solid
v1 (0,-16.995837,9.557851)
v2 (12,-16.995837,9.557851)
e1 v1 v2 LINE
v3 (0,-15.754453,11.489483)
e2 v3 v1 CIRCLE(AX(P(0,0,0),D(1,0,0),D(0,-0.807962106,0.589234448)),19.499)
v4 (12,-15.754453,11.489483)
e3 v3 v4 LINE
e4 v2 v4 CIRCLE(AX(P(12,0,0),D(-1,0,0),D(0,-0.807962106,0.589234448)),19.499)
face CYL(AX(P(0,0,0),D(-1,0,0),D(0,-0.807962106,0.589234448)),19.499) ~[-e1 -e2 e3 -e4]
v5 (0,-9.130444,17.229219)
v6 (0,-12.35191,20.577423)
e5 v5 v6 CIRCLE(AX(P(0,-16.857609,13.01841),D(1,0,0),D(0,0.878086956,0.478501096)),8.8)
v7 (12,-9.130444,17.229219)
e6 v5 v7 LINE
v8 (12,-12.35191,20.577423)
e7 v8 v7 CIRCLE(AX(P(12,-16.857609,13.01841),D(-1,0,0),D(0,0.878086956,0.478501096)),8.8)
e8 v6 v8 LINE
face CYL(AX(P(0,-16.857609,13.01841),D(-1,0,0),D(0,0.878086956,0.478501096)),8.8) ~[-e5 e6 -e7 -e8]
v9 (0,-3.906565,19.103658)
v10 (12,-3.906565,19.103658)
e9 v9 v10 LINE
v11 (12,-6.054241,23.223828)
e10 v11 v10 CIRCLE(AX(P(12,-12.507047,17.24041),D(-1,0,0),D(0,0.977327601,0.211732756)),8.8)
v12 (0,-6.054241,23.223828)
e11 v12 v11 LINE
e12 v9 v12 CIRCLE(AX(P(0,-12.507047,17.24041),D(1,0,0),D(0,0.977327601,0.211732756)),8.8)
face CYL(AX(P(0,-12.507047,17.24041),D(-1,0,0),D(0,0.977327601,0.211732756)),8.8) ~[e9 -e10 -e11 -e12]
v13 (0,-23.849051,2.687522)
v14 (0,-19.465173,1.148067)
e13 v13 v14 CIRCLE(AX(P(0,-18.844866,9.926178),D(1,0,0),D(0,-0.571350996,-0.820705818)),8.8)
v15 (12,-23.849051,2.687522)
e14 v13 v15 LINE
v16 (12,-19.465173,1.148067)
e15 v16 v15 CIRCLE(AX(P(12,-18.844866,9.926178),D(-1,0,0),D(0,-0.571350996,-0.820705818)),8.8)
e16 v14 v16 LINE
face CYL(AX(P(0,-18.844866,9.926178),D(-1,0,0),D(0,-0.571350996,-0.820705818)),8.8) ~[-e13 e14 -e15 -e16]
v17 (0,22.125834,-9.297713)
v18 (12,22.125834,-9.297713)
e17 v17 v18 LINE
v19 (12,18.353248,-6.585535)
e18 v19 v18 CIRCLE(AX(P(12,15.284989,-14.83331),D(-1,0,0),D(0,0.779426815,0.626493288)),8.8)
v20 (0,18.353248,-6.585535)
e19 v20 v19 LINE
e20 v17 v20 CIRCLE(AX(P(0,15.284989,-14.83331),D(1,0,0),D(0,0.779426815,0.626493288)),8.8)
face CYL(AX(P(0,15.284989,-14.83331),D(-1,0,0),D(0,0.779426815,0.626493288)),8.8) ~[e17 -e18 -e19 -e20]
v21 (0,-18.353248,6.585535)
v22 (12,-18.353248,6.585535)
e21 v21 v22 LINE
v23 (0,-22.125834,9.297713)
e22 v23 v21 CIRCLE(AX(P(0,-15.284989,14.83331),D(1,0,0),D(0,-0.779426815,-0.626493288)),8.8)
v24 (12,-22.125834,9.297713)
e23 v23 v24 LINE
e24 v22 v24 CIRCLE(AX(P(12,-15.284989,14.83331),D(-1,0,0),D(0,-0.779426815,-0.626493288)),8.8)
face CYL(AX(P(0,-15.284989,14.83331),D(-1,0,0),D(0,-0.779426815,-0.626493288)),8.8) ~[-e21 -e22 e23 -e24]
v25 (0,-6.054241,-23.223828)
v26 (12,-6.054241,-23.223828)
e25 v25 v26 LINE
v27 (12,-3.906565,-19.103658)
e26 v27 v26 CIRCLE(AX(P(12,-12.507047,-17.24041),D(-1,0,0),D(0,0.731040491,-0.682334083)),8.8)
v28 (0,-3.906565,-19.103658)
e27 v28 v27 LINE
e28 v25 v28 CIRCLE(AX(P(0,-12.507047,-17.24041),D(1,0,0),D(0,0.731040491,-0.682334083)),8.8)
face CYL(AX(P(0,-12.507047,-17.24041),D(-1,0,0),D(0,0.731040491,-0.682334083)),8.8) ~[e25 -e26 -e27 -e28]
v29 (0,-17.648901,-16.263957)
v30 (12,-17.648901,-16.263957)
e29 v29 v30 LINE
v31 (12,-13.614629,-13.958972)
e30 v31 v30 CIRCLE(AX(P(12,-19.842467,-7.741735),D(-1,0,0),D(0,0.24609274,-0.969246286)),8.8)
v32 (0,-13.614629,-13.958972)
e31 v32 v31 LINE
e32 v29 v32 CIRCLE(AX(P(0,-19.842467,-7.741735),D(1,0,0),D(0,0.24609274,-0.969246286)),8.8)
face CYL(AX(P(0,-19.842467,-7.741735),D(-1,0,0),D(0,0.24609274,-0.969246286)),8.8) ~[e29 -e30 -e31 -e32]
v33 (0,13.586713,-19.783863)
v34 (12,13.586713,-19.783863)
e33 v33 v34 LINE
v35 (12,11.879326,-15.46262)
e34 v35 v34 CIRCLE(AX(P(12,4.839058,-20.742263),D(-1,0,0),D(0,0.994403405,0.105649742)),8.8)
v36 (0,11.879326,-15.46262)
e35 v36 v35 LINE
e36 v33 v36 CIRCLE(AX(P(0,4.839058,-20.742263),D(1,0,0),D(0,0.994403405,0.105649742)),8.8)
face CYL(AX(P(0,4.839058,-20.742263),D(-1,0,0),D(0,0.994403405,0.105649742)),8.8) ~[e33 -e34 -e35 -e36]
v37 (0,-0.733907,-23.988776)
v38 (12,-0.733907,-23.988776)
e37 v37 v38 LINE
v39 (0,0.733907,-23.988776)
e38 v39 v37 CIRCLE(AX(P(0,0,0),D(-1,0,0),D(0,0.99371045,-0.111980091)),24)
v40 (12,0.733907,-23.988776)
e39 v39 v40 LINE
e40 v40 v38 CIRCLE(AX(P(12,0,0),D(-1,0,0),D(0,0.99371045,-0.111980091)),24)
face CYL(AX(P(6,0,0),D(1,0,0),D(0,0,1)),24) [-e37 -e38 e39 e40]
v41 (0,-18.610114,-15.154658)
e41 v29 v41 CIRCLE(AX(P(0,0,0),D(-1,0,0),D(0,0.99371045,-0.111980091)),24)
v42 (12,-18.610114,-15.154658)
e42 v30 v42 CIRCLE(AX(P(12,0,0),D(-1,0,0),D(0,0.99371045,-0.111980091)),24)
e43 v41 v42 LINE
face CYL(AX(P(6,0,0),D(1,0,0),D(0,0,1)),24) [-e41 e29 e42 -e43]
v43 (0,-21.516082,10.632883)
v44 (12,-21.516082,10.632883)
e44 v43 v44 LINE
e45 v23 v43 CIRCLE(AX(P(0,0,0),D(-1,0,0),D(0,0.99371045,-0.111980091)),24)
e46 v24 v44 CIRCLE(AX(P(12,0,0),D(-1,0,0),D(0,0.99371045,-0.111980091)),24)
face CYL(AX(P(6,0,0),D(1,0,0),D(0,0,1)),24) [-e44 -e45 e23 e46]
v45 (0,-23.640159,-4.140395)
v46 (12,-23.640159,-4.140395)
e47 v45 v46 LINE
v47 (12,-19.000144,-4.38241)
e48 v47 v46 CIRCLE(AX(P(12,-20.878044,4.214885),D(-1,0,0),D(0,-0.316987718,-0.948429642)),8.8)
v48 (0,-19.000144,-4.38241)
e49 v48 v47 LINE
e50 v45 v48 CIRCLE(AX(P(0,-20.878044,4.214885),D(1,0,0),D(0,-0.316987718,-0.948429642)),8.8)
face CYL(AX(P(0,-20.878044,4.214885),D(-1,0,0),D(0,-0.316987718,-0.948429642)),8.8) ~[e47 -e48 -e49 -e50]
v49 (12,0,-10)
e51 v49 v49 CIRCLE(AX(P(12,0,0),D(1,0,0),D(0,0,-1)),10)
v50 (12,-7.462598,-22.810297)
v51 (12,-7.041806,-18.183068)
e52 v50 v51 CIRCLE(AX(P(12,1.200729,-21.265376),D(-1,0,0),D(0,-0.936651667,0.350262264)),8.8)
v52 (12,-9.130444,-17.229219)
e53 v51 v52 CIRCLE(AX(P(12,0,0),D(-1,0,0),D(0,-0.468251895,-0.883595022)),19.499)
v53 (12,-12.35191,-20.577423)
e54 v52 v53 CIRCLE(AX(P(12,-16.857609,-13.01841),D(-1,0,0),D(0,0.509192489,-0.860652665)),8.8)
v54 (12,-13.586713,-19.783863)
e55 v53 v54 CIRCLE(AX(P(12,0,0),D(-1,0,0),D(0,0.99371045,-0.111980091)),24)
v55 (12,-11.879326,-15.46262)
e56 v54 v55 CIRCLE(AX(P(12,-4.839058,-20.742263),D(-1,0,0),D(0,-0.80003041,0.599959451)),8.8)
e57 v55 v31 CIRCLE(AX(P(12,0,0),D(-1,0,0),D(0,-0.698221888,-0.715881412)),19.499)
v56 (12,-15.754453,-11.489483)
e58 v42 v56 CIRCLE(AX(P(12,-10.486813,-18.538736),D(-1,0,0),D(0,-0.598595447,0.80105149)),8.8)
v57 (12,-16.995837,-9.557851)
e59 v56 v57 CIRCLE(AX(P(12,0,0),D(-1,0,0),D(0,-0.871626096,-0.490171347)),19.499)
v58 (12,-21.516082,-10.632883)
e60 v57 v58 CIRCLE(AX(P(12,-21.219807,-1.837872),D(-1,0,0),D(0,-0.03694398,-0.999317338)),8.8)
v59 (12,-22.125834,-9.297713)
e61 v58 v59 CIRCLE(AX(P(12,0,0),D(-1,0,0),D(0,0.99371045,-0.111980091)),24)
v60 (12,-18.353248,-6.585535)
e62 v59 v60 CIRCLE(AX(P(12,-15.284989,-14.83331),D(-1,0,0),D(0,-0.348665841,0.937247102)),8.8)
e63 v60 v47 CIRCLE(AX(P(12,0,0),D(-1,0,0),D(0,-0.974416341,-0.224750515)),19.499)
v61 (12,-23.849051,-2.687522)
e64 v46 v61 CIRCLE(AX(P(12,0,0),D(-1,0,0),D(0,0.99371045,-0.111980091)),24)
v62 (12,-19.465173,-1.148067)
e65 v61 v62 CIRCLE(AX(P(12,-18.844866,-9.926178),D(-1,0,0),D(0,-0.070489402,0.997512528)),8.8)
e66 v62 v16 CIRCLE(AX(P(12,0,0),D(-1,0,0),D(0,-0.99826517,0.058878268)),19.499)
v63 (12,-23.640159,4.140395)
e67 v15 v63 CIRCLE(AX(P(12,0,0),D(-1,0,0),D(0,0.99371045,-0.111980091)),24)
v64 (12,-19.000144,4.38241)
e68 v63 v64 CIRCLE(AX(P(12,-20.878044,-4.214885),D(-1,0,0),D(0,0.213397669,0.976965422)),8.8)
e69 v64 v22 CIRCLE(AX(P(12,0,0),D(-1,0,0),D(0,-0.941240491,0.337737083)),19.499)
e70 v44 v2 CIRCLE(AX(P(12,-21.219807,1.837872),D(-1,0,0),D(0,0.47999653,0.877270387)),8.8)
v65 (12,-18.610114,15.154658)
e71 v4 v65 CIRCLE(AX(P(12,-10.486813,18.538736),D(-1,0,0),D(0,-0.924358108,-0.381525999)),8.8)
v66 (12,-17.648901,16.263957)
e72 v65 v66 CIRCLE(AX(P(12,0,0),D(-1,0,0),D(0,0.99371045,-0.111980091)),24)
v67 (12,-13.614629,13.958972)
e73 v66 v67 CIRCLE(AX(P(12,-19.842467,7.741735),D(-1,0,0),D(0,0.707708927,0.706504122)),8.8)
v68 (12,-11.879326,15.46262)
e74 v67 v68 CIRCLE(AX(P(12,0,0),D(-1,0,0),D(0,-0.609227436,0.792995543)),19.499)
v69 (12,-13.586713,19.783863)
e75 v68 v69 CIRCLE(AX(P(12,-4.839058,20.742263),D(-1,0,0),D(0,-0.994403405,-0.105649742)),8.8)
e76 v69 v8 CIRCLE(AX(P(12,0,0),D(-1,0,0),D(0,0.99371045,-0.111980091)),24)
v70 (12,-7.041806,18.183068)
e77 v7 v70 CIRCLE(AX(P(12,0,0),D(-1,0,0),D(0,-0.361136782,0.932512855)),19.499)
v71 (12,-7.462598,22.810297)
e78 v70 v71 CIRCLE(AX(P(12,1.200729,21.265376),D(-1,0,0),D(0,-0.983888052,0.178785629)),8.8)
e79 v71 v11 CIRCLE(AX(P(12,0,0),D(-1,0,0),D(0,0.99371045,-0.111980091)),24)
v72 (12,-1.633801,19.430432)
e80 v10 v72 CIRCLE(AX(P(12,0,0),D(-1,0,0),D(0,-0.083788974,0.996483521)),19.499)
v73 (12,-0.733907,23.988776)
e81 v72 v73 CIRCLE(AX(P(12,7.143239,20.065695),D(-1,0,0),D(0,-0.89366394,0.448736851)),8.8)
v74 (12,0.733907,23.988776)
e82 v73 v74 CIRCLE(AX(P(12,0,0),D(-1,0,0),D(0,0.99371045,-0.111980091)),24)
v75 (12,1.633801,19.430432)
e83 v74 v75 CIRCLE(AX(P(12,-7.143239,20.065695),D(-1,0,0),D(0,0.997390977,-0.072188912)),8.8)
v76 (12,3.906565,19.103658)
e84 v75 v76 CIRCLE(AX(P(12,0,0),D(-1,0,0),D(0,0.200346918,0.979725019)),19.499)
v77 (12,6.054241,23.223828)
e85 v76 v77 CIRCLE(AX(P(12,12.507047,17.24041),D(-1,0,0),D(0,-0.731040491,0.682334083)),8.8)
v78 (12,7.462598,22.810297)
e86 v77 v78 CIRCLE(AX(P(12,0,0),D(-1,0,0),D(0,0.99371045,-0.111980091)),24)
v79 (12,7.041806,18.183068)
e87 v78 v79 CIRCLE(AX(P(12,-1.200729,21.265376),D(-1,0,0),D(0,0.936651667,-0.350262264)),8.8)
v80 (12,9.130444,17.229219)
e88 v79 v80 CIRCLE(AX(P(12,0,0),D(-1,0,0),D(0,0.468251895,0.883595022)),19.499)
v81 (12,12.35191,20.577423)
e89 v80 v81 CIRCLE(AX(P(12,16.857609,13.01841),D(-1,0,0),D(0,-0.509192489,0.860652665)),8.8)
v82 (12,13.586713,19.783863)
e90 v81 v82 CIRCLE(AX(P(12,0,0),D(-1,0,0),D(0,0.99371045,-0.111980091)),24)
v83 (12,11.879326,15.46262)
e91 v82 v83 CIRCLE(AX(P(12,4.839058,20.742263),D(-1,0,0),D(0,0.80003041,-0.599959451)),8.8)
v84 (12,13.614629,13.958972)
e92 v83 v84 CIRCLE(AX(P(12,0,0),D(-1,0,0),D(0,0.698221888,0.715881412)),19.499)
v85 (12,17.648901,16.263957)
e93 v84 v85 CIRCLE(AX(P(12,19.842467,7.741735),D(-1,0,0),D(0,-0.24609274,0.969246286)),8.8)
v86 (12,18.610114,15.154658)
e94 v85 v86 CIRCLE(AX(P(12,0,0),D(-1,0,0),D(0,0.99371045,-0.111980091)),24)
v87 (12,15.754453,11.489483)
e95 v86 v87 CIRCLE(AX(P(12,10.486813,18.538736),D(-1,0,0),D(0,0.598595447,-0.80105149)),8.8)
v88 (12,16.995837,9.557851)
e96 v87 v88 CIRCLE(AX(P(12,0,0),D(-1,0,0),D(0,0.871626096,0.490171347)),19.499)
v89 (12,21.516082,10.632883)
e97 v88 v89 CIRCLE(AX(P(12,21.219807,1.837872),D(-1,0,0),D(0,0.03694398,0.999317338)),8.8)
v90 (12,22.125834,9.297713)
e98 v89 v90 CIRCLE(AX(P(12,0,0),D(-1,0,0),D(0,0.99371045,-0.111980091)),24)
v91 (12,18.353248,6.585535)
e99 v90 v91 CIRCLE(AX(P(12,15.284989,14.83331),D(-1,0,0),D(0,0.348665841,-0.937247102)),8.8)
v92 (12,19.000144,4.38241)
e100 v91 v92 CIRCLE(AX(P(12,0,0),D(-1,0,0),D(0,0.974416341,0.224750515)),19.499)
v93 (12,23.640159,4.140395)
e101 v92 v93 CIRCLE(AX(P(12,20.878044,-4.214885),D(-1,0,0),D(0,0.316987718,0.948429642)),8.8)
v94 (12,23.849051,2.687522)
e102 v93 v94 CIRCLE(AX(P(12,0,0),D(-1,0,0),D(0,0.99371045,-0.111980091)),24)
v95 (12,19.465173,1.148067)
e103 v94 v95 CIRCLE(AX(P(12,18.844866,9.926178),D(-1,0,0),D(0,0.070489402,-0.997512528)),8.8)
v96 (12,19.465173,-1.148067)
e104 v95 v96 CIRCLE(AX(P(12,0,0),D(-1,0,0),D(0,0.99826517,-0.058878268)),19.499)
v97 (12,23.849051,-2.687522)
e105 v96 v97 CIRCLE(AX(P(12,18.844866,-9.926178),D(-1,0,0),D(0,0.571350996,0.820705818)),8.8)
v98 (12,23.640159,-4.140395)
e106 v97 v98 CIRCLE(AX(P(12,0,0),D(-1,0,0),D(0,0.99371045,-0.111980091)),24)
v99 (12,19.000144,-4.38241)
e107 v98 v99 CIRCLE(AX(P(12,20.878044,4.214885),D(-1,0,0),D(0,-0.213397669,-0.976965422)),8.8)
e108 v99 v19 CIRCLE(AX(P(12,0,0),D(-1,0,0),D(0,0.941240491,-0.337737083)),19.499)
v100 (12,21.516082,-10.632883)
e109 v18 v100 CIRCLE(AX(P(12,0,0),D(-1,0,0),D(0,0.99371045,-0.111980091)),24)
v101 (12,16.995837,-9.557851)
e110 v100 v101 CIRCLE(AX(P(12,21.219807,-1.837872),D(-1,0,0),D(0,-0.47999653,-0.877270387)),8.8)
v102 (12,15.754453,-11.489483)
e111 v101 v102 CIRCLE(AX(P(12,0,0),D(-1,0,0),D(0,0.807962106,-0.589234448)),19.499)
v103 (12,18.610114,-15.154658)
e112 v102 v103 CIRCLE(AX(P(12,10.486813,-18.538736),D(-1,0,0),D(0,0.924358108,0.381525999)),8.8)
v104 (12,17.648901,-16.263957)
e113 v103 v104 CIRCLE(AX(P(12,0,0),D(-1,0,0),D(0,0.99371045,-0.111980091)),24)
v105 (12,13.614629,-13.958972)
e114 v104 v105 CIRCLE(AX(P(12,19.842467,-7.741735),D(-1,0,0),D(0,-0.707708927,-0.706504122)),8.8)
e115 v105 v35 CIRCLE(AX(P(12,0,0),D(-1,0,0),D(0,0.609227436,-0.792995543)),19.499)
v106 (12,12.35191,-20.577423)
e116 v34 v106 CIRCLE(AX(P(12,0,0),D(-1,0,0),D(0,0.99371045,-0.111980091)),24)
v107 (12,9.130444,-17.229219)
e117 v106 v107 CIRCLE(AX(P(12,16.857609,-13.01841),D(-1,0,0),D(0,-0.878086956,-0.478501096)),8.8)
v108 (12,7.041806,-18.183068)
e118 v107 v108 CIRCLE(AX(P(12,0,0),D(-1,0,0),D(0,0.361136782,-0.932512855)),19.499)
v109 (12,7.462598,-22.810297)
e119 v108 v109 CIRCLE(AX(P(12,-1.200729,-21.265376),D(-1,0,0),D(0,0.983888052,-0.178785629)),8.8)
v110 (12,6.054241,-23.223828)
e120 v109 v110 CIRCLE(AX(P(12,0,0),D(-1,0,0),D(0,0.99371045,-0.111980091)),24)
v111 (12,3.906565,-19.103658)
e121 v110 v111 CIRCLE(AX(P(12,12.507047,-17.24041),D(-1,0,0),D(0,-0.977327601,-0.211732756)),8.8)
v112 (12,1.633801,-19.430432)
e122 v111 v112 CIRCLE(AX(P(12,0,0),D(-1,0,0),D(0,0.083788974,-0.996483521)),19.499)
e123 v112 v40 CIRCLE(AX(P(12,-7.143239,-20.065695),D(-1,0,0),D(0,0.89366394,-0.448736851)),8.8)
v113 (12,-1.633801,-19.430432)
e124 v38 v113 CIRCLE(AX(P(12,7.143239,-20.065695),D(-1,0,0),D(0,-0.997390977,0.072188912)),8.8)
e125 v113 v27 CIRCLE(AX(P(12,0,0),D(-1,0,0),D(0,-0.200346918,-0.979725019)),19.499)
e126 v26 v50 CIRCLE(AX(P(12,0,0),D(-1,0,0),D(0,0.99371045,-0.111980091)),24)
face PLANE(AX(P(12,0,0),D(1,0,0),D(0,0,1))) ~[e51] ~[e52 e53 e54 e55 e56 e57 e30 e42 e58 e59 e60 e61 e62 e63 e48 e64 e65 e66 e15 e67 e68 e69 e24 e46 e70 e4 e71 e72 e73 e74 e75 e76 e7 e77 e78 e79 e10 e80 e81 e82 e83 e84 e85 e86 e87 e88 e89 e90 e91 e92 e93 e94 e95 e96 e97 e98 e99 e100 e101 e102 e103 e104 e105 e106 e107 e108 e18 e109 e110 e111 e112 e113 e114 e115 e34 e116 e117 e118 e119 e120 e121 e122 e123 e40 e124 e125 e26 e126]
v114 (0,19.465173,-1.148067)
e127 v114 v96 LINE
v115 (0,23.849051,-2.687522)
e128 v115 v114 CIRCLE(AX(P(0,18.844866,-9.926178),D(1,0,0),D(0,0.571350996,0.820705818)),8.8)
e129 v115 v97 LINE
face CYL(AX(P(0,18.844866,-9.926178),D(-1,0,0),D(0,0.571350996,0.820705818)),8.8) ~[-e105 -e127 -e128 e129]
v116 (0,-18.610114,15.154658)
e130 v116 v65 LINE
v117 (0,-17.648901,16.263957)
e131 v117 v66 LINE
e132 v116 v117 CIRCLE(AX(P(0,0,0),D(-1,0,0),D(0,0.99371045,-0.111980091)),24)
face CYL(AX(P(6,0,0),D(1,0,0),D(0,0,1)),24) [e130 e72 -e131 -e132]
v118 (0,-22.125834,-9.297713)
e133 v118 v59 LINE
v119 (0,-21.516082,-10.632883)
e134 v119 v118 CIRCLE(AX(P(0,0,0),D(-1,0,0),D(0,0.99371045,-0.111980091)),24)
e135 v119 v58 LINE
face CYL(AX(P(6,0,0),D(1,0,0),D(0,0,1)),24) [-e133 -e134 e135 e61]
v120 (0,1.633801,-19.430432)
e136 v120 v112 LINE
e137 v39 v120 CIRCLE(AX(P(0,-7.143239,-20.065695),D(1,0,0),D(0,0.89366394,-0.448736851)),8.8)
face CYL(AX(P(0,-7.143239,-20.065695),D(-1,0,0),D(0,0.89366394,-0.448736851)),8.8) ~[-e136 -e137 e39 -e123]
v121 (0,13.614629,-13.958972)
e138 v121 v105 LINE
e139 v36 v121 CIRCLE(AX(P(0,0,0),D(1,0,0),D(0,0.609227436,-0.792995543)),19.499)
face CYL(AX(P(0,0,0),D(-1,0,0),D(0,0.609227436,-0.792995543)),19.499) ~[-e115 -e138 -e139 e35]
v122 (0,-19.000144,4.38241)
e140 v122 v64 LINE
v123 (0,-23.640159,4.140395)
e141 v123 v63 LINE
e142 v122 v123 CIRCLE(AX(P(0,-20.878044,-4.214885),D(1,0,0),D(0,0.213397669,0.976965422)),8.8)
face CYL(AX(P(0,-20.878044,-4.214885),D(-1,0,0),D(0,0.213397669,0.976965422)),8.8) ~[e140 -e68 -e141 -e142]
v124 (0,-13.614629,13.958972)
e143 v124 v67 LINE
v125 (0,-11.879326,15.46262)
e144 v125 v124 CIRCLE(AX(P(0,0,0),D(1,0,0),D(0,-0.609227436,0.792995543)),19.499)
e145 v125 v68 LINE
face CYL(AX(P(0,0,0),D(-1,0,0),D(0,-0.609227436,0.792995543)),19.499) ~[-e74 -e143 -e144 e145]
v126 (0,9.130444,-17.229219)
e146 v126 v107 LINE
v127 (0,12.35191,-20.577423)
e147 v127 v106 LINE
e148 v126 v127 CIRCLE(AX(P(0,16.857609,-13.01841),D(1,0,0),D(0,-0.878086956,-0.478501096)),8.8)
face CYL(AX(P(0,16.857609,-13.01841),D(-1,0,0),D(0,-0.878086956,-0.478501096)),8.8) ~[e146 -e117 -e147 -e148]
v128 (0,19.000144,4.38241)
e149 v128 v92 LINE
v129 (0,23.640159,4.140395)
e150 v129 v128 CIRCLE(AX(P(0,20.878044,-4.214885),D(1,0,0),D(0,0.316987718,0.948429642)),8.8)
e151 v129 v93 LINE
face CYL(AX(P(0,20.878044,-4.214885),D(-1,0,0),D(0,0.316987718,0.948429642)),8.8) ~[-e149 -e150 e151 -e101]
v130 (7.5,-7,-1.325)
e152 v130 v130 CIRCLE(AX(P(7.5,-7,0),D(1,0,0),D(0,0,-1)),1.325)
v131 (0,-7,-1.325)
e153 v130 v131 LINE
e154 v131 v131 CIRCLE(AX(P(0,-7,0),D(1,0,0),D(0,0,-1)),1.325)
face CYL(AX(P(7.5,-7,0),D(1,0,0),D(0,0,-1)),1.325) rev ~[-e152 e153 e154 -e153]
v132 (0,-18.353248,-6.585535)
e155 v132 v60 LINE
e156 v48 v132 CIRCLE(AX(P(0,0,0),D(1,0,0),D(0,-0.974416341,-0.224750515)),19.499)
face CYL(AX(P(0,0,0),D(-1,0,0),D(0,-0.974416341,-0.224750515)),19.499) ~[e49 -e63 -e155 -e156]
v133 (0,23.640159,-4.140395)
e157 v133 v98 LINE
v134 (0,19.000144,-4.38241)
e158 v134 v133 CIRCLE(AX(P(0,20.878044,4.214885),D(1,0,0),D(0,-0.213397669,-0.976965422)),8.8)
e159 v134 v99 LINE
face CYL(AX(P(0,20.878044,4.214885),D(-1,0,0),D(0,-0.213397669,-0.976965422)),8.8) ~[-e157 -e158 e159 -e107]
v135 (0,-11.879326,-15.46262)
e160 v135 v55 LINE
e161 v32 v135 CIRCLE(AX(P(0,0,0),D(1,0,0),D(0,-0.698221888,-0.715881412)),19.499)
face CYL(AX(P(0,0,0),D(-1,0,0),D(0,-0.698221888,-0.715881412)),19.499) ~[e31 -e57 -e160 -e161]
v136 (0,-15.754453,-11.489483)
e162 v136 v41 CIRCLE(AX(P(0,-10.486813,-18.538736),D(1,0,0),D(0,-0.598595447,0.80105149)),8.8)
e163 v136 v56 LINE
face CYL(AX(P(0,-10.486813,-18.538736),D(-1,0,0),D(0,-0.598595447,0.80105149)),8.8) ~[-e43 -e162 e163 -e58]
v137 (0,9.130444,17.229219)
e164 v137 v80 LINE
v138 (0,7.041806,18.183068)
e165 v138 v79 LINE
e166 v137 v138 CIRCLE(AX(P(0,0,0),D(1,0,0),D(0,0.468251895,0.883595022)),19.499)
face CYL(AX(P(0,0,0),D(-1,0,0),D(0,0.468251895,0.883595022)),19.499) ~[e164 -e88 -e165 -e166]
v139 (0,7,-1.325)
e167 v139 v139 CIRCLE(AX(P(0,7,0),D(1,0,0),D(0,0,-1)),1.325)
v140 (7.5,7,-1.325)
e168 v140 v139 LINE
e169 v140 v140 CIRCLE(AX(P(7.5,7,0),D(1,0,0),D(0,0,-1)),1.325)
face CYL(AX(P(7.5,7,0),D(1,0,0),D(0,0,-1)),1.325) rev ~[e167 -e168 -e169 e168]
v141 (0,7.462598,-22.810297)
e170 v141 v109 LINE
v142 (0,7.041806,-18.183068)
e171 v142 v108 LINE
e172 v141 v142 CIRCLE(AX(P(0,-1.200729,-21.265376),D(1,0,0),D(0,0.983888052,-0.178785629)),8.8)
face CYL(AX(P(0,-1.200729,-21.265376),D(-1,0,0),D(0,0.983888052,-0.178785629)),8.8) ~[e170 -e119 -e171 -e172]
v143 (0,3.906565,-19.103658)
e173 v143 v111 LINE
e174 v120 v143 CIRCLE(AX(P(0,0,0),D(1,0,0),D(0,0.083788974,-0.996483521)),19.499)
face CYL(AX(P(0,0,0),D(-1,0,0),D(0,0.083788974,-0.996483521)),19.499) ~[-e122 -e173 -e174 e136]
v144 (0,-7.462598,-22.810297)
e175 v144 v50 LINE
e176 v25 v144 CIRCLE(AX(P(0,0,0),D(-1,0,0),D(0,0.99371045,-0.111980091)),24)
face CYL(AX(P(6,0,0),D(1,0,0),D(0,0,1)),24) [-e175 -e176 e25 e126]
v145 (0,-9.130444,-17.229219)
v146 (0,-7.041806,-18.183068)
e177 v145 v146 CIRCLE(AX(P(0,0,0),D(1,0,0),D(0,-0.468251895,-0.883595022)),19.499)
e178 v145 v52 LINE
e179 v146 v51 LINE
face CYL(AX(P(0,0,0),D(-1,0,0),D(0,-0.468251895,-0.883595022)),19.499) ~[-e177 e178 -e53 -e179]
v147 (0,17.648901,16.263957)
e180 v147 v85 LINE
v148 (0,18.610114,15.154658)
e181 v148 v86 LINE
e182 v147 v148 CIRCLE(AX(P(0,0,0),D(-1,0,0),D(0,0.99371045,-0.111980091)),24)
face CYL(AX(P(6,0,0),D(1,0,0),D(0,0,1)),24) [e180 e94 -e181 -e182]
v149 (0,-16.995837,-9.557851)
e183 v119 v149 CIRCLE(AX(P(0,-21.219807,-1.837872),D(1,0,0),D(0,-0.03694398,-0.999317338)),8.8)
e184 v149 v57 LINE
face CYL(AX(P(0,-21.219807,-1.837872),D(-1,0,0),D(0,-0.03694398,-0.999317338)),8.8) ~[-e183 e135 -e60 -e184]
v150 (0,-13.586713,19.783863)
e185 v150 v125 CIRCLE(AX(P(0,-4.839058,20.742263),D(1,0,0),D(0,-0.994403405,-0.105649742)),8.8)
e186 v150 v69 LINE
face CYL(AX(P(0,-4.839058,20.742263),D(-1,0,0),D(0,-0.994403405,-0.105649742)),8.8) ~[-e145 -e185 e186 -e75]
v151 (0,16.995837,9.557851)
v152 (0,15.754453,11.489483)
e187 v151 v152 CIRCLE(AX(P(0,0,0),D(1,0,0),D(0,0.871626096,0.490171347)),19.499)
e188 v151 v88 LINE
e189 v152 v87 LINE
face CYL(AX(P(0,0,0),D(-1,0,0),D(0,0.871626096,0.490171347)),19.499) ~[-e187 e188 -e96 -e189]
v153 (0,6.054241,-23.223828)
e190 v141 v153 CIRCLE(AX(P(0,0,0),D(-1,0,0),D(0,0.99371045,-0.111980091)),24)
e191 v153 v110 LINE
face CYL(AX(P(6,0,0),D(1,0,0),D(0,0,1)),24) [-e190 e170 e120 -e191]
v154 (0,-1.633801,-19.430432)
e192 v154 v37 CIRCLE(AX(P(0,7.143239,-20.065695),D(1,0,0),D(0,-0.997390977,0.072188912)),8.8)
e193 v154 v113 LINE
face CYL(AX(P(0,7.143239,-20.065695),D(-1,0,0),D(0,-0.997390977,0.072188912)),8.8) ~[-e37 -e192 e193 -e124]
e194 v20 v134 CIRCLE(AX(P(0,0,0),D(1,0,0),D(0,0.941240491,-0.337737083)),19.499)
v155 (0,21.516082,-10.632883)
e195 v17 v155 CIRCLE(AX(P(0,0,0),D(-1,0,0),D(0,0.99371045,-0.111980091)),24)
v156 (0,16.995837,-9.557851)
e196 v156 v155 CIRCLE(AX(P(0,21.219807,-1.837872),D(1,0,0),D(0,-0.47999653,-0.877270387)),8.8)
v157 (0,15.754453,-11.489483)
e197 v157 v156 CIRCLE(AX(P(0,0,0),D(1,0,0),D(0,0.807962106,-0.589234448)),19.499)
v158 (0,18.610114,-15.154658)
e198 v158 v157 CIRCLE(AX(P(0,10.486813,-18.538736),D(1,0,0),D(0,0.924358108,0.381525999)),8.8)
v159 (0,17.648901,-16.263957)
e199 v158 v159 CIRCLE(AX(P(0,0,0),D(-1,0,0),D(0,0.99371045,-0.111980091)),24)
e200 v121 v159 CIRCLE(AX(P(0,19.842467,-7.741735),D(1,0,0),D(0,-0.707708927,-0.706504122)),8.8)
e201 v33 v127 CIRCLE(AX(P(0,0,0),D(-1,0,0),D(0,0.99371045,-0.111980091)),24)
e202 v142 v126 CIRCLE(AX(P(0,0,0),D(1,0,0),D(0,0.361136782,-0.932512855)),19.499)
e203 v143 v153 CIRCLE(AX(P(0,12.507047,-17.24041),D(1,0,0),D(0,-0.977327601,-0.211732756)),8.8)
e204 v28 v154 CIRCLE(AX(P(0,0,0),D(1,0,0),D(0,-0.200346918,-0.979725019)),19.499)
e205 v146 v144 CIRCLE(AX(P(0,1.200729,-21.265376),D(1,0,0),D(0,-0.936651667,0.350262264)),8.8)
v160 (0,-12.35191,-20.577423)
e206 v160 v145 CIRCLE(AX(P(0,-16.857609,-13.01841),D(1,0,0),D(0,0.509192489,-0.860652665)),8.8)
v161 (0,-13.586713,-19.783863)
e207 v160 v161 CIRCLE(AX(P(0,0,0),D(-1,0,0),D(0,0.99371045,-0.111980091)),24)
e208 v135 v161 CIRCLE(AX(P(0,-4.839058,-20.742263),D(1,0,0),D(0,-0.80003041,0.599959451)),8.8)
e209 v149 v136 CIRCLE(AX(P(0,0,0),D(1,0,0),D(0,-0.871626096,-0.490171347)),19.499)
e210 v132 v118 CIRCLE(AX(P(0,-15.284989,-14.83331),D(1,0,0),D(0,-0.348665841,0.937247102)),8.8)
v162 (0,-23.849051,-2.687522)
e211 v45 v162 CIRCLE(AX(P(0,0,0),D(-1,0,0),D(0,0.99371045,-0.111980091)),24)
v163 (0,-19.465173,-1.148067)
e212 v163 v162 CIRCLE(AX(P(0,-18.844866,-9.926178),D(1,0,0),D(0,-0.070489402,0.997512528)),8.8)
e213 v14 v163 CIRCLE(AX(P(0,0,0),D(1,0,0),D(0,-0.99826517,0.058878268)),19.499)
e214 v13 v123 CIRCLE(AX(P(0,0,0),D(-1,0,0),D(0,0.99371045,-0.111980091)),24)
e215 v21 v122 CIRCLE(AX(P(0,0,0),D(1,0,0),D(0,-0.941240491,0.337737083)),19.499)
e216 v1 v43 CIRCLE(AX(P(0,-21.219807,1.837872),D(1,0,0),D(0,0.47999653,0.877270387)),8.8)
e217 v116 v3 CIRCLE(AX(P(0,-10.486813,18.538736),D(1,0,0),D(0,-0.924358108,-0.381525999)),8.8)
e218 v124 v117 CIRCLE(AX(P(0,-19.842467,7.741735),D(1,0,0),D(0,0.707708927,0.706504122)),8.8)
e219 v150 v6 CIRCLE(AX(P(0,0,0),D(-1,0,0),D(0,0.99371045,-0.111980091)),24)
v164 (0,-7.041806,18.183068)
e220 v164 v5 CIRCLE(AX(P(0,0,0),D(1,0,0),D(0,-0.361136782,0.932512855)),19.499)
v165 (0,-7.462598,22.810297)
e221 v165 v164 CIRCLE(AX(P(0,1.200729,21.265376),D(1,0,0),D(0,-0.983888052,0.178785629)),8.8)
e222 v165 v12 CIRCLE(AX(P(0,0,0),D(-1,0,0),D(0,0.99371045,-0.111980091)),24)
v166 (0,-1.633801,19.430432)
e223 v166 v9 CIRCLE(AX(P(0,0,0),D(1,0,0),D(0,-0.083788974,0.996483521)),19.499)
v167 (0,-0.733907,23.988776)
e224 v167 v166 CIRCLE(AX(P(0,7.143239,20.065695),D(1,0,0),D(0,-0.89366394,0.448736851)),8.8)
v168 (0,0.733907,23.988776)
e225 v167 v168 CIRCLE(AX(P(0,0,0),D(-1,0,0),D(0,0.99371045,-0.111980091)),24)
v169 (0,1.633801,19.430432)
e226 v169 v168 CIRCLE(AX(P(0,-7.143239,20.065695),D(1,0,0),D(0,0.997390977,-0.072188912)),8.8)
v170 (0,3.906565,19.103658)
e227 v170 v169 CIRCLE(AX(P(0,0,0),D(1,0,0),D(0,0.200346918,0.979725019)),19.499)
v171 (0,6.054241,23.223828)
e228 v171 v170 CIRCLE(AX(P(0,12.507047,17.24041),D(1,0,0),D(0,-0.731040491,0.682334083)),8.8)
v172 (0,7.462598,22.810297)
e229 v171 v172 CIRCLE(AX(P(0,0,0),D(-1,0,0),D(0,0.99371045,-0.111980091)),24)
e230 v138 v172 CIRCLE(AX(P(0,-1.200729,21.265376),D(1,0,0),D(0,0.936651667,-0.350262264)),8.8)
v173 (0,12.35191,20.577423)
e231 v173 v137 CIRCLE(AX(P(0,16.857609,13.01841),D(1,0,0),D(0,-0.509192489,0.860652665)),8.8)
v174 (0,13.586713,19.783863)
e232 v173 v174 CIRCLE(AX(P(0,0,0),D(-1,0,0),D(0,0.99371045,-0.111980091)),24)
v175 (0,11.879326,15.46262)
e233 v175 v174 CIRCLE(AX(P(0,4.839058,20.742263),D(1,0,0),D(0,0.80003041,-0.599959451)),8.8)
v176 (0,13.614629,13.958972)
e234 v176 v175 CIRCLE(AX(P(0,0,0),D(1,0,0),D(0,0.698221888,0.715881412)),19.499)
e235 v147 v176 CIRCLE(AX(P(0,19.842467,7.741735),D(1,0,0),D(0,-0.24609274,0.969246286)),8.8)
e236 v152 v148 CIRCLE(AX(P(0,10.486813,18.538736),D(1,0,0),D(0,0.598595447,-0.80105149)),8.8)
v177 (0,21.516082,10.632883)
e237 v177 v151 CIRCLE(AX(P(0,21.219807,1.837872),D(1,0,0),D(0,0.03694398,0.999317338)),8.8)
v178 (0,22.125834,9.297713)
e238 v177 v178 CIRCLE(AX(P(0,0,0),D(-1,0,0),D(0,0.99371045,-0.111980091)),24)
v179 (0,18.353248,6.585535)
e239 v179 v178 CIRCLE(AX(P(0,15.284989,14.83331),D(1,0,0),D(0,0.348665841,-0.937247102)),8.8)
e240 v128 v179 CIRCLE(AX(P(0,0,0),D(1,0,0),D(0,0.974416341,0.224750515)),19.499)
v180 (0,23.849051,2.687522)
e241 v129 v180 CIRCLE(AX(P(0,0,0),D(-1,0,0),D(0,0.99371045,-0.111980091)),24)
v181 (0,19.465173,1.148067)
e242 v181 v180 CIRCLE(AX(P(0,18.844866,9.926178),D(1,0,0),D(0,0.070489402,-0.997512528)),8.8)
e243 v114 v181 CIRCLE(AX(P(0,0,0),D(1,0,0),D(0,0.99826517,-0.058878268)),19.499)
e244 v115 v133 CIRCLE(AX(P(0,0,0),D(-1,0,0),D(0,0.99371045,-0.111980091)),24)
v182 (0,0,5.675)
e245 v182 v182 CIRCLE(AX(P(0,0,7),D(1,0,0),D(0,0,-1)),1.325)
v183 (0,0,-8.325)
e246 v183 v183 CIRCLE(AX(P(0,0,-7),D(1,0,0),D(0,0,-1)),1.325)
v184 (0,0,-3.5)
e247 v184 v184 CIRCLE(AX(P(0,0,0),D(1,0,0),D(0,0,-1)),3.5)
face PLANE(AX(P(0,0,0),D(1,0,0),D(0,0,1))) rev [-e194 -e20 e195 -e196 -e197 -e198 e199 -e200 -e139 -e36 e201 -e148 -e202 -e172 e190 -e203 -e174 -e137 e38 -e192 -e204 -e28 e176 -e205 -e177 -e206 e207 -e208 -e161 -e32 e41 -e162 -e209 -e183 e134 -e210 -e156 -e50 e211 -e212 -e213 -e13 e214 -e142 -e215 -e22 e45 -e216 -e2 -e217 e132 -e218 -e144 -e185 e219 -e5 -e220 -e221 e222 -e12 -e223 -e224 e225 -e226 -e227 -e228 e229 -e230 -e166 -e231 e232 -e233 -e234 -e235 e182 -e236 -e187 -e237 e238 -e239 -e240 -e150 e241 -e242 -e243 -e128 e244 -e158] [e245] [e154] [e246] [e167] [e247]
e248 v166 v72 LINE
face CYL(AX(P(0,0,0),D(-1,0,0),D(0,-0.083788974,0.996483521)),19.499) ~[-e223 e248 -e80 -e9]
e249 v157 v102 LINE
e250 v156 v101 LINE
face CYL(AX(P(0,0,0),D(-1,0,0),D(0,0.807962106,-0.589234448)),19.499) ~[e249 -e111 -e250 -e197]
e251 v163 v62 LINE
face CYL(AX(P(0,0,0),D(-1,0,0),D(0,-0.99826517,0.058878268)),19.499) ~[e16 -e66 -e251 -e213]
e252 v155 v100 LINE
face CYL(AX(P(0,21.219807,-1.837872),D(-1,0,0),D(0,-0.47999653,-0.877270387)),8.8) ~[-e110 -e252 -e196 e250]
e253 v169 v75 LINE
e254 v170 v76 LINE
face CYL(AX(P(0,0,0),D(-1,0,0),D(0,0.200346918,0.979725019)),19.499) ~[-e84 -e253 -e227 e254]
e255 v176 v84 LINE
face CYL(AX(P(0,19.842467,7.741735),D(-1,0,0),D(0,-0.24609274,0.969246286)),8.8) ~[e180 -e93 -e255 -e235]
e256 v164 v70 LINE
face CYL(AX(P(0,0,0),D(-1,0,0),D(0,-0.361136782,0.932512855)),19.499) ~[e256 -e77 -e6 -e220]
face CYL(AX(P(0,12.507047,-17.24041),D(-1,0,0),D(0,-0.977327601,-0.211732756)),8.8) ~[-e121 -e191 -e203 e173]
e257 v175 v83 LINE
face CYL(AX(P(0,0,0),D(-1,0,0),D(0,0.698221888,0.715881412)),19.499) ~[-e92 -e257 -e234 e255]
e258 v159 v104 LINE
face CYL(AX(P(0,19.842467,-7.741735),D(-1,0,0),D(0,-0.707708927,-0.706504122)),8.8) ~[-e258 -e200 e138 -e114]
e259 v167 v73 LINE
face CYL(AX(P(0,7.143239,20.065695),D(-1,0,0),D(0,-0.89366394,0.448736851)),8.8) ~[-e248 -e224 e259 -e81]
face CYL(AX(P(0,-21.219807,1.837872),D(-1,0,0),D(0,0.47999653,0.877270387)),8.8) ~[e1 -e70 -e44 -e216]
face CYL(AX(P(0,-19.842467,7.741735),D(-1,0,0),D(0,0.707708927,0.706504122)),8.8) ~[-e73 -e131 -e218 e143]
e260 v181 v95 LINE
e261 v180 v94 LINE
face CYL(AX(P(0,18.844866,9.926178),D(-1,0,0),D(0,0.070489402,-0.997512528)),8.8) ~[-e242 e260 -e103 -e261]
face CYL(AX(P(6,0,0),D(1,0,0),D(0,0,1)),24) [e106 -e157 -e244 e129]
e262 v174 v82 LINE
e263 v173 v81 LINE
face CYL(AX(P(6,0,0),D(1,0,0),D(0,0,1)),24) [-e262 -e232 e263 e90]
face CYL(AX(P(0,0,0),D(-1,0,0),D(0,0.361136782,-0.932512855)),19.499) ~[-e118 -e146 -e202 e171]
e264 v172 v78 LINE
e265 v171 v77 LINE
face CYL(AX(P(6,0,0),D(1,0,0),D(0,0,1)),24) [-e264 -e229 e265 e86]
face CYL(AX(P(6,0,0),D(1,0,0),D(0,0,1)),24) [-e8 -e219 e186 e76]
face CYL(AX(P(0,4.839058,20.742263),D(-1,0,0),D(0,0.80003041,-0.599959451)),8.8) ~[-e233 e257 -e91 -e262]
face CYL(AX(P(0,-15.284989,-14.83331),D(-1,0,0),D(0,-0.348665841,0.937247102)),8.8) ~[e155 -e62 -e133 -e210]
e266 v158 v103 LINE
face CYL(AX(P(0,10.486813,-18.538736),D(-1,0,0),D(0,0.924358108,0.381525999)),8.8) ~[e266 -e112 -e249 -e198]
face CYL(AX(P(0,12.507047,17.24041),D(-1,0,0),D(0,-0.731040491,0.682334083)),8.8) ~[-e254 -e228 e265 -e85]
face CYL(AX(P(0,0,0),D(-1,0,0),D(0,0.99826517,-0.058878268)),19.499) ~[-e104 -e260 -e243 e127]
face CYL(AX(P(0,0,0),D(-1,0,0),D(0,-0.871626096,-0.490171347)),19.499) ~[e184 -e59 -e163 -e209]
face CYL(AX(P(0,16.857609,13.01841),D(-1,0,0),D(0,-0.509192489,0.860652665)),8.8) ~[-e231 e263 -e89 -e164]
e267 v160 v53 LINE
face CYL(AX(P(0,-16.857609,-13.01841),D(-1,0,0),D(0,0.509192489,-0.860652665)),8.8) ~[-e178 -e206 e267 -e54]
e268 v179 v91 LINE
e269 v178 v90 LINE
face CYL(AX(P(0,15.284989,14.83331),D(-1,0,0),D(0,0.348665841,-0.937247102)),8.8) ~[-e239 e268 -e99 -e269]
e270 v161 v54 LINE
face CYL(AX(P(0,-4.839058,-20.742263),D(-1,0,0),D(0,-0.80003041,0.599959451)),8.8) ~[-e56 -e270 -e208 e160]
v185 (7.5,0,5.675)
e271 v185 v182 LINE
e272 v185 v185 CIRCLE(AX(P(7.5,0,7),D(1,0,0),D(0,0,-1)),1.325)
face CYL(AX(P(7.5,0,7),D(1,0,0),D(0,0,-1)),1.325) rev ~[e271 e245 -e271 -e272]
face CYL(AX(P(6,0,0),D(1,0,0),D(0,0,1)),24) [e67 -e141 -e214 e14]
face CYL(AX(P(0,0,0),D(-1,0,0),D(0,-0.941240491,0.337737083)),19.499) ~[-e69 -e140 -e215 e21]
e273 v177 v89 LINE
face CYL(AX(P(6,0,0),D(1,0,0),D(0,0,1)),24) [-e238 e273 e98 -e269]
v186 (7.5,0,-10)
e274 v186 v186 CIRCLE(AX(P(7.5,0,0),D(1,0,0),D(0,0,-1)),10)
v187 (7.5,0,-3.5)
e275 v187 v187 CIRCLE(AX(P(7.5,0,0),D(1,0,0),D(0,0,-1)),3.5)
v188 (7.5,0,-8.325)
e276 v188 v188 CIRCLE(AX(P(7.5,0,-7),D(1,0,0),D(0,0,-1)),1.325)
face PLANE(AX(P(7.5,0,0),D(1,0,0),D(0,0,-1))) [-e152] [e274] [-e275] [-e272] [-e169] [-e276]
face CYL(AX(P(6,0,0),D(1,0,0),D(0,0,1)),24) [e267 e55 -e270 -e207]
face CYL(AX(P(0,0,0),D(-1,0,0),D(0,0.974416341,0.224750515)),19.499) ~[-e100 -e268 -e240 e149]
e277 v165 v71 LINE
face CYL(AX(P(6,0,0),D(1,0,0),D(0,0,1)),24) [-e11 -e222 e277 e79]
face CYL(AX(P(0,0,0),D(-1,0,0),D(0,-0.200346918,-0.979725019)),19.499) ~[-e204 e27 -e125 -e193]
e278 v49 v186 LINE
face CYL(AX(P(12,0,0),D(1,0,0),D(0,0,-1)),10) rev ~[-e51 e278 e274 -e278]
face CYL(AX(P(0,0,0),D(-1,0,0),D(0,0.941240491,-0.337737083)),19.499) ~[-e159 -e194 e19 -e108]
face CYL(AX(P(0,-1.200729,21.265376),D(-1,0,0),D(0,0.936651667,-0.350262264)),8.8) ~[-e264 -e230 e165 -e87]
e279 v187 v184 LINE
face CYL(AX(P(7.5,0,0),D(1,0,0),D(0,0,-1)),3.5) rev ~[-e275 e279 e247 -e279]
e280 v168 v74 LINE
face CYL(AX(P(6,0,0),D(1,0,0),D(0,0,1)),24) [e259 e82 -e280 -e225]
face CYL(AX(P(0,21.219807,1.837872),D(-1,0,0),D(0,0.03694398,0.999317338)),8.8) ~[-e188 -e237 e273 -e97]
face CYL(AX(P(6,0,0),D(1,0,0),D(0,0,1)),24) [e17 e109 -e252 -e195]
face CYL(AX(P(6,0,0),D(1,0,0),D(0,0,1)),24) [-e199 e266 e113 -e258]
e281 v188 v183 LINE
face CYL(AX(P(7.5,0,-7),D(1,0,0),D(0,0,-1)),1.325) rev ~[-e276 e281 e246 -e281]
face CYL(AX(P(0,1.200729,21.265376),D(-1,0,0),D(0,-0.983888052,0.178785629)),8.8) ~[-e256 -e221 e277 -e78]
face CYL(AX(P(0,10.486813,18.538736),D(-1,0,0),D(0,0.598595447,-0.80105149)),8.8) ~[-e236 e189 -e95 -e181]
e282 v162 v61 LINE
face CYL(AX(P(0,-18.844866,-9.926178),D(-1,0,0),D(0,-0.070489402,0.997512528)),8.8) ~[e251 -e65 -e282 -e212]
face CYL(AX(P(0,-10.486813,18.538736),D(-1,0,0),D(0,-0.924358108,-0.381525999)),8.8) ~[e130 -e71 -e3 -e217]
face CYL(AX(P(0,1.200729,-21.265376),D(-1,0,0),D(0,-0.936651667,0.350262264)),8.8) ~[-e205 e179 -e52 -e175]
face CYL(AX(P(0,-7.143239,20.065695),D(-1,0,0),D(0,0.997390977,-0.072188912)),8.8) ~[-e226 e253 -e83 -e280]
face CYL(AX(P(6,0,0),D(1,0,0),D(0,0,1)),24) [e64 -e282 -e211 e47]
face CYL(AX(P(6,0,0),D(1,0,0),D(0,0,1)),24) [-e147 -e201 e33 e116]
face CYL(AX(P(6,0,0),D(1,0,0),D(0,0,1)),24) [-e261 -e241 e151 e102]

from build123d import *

# Parameters (mm, degrees)
BASPROSKE_W        = 12
BASPROSKE_H        = 24
TOOTHCUT_DEPTH     = 37
TEETHCUTS_COUNT    = 22
TEETHCUTS_ANGLE    = 343.636363636
BORSKE_R           = 3
BORE_DEPTH         = 50.0000508
SKETCH1_R          = 10
CUT_EXTRUDE1_DEPTH = 4.5
CUT_EXTRUDE2_REACH = 36.656
SKETCH2_R          = 3.5
CUT_EXTRUDE3_REACH = 36.656
SKETCH3_R          = 1.325


with BuildPart() as part:
    # BasProSke → Base-Revolve (revolve)
    with BuildSketch(Plane(origin=(0, 0, 0), x_dir=(1, 0, 0), z_dir=(0, 1, 0)), mode=Mode.PRIVATE) as base_revolve_sk:
        with Locations((6, 12)):
            Rectangle(BASPROSKE_W, BASPROSKE_H)
    revolve(base_revolve_sk.sketch.rotate(Axis((-10, 0, 0), (1, 0, 0)), 180), axis=Axis((-10, 0, 0), (1, 0, 0)))

    # TooCutSke → ToothCut (cut, through all)
    with BuildSketch(Plane(origin=(0, 0, 0), x_dir=(0, 0, -1), z_dir=(1, 0, 0))):
        with BuildLine():
            ThreePointArc((1.148067356, 19.465172549), (0, 19.499), (-1.148067356, 19.465172549))
            ThreePointArc((-1.148067356, 19.465172549), (-1.628029232, 21.774154728), (-2.703966408, 23.872754571))
            ThreePointArc((-2.703966408, 23.872754571), (0, 24.0254), (2.703966408, 23.872754571))
            ThreePointArc((2.703966408, 23.872754571), (1.628029232, 21.774154728), (1.148067356, 19.465172549))
        make_face()
    toothcut = extrude(amount=TOOTHCUT_DEPTH, mode=Mode.SUBTRACT)

    # TeethCuts: ToothCut ×22 about axis
    teethcuts_axis = Axis((-10, 0, 0), (1, 0, 0))
    for i in range(1, TEETHCUTS_COUNT):
        add(toothcut.rotate(teethcuts_axis, i * TEETHCUTS_ANGLE / (TEETHCUTS_COUNT - 1)), mode=Mode.SUBTRACT)

    # BorSke → Bore (cut, symmetric)
    with BuildSketch(Plane(origin=(0, 0, 0), x_dir=(0, 0, -1), z_dir=(1, 0, 0))):
        with Locations(Location((0, 0, 0), (0, 0, 180))):
            Circle(BORSKE_R)
    extrude(amount=BORE_DEPTH, both=True, mode=Mode.SUBTRACT)

    # Sketch1 → Cut-Extrude1 (cut)
    with BuildSketch(Plane(origin=(12, 0, 0), x_dir=(0, 0, -1), z_dir=(1, 0, 0))):
        Circle(SKETCH1_R)
    extrude(amount=-CUT_EXTRUDE1_DEPTH, mode=Mode.SUBTRACT)

    # Sketch2 → Cut-Extrude2 (cut, up to next)
    with BuildSketch(Plane(origin=(7.5, 0, 0), x_dir=(0, 0, -1), z_dir=(1, 0, 0)), mode=Mode.PRIVATE) as cut_extrude2_sk1:
        Circle(SKETCH2_R)
    cut_extrude2_tool1 = extrude(cut_extrude2_sk1.sketch, amount=-CUT_EXTRUDE2_REACH, mode=Mode.PRIVATE) & part.part
    add(cut_extrude2_tool1.solids().sort_by_distance((7.5, 0, 0))[0], mode=Mode.SUBTRACT)

    # Sketch3 → Cut-Extrude3 (cut, up to next)
    with BuildSketch(Plane(origin=(7.5, 0, 0), x_dir=(0, 0, -1), z_dir=(1, 0, 0)), mode=Mode.PRIVATE) as cut_extrude3_sk1:
        with Locations((0, 7)):
            Circle(SKETCH3_R)
    cut_extrude3_tool1 = extrude(cut_extrude3_sk1.sketch, amount=-CUT_EXTRUDE3_REACH, mode=Mode.PRIVATE) & part.part
    # Sketch3 → Cut-Extrude3 (cut, up to next)
    with BuildSketch(Plane(origin=(7.5, 0, 0), x_dir=(0, 0, -1), z_dir=(1, 0, 0)), mode=Mode.PRIVATE) as cut_extrude3_sk2:
        with Locations((7, 0)):
            Circle(SKETCH3_R)
    cut_extrude3_tool2 = extrude(cut_extrude3_sk2.sketch, amount=-CUT_EXTRUDE3_REACH, mode=Mode.PRIVATE) & part.part
    # Sketch3 → Cut-Extrude3 (cut, up to next)
    with BuildSketch(Plane(origin=(7.5, 0, 0), x_dir=(0, 0, -1), z_dir=(1, 0, 0)), mode=Mode.PRIVATE) as cut_extrude3_sk3:
        with Locations((0, -7)):
            Circle(SKETCH3_R)
    cut_extrude3_tool3 = extrude(cut_extrude3_sk3.sketch, amount=-CUT_EXTRUDE3_REACH, mode=Mode.PRIVATE) & part.part
    # Sketch3 → Cut-Extrude3 (cut, up to next)
    with BuildSketch(Plane(origin=(7.5, 0, 0), x_dir=(0, 0, -1), z_dir=(1, 0, 0)), mode=Mode.PRIVATE) as cut_extrude3_sk4:
        with Locations((-7, 0)):
            Circle(SKETCH3_R)
    cut_extrude3_tool4 = extrude(cut_extrude3_sk4.sketch, amount=-CUT_EXTRUDE3_REACH, mode=Mode.PRIVATE) & part.part
    add(cut_extrude3_tool1.solids().sort_by_distance((7.5, 7, 0))[0], mode=Mode.SUBTRACT)
    add(cut_extrude3_tool2.solids().sort_by_distance((7.5, 0, -7))[0], mode=Mode.SUBTRACT)
    add(cut_extrude3_tool3.solids().sort_by_distance((7.5, -7, 0))[0], mode=Mode.SUBTRACT)
    add(cut_extrude3_tool4.solids().sort_by_distance((7.5, 0, 7))[0], mode=Mode.SUBTRACT)


solid = part.part
